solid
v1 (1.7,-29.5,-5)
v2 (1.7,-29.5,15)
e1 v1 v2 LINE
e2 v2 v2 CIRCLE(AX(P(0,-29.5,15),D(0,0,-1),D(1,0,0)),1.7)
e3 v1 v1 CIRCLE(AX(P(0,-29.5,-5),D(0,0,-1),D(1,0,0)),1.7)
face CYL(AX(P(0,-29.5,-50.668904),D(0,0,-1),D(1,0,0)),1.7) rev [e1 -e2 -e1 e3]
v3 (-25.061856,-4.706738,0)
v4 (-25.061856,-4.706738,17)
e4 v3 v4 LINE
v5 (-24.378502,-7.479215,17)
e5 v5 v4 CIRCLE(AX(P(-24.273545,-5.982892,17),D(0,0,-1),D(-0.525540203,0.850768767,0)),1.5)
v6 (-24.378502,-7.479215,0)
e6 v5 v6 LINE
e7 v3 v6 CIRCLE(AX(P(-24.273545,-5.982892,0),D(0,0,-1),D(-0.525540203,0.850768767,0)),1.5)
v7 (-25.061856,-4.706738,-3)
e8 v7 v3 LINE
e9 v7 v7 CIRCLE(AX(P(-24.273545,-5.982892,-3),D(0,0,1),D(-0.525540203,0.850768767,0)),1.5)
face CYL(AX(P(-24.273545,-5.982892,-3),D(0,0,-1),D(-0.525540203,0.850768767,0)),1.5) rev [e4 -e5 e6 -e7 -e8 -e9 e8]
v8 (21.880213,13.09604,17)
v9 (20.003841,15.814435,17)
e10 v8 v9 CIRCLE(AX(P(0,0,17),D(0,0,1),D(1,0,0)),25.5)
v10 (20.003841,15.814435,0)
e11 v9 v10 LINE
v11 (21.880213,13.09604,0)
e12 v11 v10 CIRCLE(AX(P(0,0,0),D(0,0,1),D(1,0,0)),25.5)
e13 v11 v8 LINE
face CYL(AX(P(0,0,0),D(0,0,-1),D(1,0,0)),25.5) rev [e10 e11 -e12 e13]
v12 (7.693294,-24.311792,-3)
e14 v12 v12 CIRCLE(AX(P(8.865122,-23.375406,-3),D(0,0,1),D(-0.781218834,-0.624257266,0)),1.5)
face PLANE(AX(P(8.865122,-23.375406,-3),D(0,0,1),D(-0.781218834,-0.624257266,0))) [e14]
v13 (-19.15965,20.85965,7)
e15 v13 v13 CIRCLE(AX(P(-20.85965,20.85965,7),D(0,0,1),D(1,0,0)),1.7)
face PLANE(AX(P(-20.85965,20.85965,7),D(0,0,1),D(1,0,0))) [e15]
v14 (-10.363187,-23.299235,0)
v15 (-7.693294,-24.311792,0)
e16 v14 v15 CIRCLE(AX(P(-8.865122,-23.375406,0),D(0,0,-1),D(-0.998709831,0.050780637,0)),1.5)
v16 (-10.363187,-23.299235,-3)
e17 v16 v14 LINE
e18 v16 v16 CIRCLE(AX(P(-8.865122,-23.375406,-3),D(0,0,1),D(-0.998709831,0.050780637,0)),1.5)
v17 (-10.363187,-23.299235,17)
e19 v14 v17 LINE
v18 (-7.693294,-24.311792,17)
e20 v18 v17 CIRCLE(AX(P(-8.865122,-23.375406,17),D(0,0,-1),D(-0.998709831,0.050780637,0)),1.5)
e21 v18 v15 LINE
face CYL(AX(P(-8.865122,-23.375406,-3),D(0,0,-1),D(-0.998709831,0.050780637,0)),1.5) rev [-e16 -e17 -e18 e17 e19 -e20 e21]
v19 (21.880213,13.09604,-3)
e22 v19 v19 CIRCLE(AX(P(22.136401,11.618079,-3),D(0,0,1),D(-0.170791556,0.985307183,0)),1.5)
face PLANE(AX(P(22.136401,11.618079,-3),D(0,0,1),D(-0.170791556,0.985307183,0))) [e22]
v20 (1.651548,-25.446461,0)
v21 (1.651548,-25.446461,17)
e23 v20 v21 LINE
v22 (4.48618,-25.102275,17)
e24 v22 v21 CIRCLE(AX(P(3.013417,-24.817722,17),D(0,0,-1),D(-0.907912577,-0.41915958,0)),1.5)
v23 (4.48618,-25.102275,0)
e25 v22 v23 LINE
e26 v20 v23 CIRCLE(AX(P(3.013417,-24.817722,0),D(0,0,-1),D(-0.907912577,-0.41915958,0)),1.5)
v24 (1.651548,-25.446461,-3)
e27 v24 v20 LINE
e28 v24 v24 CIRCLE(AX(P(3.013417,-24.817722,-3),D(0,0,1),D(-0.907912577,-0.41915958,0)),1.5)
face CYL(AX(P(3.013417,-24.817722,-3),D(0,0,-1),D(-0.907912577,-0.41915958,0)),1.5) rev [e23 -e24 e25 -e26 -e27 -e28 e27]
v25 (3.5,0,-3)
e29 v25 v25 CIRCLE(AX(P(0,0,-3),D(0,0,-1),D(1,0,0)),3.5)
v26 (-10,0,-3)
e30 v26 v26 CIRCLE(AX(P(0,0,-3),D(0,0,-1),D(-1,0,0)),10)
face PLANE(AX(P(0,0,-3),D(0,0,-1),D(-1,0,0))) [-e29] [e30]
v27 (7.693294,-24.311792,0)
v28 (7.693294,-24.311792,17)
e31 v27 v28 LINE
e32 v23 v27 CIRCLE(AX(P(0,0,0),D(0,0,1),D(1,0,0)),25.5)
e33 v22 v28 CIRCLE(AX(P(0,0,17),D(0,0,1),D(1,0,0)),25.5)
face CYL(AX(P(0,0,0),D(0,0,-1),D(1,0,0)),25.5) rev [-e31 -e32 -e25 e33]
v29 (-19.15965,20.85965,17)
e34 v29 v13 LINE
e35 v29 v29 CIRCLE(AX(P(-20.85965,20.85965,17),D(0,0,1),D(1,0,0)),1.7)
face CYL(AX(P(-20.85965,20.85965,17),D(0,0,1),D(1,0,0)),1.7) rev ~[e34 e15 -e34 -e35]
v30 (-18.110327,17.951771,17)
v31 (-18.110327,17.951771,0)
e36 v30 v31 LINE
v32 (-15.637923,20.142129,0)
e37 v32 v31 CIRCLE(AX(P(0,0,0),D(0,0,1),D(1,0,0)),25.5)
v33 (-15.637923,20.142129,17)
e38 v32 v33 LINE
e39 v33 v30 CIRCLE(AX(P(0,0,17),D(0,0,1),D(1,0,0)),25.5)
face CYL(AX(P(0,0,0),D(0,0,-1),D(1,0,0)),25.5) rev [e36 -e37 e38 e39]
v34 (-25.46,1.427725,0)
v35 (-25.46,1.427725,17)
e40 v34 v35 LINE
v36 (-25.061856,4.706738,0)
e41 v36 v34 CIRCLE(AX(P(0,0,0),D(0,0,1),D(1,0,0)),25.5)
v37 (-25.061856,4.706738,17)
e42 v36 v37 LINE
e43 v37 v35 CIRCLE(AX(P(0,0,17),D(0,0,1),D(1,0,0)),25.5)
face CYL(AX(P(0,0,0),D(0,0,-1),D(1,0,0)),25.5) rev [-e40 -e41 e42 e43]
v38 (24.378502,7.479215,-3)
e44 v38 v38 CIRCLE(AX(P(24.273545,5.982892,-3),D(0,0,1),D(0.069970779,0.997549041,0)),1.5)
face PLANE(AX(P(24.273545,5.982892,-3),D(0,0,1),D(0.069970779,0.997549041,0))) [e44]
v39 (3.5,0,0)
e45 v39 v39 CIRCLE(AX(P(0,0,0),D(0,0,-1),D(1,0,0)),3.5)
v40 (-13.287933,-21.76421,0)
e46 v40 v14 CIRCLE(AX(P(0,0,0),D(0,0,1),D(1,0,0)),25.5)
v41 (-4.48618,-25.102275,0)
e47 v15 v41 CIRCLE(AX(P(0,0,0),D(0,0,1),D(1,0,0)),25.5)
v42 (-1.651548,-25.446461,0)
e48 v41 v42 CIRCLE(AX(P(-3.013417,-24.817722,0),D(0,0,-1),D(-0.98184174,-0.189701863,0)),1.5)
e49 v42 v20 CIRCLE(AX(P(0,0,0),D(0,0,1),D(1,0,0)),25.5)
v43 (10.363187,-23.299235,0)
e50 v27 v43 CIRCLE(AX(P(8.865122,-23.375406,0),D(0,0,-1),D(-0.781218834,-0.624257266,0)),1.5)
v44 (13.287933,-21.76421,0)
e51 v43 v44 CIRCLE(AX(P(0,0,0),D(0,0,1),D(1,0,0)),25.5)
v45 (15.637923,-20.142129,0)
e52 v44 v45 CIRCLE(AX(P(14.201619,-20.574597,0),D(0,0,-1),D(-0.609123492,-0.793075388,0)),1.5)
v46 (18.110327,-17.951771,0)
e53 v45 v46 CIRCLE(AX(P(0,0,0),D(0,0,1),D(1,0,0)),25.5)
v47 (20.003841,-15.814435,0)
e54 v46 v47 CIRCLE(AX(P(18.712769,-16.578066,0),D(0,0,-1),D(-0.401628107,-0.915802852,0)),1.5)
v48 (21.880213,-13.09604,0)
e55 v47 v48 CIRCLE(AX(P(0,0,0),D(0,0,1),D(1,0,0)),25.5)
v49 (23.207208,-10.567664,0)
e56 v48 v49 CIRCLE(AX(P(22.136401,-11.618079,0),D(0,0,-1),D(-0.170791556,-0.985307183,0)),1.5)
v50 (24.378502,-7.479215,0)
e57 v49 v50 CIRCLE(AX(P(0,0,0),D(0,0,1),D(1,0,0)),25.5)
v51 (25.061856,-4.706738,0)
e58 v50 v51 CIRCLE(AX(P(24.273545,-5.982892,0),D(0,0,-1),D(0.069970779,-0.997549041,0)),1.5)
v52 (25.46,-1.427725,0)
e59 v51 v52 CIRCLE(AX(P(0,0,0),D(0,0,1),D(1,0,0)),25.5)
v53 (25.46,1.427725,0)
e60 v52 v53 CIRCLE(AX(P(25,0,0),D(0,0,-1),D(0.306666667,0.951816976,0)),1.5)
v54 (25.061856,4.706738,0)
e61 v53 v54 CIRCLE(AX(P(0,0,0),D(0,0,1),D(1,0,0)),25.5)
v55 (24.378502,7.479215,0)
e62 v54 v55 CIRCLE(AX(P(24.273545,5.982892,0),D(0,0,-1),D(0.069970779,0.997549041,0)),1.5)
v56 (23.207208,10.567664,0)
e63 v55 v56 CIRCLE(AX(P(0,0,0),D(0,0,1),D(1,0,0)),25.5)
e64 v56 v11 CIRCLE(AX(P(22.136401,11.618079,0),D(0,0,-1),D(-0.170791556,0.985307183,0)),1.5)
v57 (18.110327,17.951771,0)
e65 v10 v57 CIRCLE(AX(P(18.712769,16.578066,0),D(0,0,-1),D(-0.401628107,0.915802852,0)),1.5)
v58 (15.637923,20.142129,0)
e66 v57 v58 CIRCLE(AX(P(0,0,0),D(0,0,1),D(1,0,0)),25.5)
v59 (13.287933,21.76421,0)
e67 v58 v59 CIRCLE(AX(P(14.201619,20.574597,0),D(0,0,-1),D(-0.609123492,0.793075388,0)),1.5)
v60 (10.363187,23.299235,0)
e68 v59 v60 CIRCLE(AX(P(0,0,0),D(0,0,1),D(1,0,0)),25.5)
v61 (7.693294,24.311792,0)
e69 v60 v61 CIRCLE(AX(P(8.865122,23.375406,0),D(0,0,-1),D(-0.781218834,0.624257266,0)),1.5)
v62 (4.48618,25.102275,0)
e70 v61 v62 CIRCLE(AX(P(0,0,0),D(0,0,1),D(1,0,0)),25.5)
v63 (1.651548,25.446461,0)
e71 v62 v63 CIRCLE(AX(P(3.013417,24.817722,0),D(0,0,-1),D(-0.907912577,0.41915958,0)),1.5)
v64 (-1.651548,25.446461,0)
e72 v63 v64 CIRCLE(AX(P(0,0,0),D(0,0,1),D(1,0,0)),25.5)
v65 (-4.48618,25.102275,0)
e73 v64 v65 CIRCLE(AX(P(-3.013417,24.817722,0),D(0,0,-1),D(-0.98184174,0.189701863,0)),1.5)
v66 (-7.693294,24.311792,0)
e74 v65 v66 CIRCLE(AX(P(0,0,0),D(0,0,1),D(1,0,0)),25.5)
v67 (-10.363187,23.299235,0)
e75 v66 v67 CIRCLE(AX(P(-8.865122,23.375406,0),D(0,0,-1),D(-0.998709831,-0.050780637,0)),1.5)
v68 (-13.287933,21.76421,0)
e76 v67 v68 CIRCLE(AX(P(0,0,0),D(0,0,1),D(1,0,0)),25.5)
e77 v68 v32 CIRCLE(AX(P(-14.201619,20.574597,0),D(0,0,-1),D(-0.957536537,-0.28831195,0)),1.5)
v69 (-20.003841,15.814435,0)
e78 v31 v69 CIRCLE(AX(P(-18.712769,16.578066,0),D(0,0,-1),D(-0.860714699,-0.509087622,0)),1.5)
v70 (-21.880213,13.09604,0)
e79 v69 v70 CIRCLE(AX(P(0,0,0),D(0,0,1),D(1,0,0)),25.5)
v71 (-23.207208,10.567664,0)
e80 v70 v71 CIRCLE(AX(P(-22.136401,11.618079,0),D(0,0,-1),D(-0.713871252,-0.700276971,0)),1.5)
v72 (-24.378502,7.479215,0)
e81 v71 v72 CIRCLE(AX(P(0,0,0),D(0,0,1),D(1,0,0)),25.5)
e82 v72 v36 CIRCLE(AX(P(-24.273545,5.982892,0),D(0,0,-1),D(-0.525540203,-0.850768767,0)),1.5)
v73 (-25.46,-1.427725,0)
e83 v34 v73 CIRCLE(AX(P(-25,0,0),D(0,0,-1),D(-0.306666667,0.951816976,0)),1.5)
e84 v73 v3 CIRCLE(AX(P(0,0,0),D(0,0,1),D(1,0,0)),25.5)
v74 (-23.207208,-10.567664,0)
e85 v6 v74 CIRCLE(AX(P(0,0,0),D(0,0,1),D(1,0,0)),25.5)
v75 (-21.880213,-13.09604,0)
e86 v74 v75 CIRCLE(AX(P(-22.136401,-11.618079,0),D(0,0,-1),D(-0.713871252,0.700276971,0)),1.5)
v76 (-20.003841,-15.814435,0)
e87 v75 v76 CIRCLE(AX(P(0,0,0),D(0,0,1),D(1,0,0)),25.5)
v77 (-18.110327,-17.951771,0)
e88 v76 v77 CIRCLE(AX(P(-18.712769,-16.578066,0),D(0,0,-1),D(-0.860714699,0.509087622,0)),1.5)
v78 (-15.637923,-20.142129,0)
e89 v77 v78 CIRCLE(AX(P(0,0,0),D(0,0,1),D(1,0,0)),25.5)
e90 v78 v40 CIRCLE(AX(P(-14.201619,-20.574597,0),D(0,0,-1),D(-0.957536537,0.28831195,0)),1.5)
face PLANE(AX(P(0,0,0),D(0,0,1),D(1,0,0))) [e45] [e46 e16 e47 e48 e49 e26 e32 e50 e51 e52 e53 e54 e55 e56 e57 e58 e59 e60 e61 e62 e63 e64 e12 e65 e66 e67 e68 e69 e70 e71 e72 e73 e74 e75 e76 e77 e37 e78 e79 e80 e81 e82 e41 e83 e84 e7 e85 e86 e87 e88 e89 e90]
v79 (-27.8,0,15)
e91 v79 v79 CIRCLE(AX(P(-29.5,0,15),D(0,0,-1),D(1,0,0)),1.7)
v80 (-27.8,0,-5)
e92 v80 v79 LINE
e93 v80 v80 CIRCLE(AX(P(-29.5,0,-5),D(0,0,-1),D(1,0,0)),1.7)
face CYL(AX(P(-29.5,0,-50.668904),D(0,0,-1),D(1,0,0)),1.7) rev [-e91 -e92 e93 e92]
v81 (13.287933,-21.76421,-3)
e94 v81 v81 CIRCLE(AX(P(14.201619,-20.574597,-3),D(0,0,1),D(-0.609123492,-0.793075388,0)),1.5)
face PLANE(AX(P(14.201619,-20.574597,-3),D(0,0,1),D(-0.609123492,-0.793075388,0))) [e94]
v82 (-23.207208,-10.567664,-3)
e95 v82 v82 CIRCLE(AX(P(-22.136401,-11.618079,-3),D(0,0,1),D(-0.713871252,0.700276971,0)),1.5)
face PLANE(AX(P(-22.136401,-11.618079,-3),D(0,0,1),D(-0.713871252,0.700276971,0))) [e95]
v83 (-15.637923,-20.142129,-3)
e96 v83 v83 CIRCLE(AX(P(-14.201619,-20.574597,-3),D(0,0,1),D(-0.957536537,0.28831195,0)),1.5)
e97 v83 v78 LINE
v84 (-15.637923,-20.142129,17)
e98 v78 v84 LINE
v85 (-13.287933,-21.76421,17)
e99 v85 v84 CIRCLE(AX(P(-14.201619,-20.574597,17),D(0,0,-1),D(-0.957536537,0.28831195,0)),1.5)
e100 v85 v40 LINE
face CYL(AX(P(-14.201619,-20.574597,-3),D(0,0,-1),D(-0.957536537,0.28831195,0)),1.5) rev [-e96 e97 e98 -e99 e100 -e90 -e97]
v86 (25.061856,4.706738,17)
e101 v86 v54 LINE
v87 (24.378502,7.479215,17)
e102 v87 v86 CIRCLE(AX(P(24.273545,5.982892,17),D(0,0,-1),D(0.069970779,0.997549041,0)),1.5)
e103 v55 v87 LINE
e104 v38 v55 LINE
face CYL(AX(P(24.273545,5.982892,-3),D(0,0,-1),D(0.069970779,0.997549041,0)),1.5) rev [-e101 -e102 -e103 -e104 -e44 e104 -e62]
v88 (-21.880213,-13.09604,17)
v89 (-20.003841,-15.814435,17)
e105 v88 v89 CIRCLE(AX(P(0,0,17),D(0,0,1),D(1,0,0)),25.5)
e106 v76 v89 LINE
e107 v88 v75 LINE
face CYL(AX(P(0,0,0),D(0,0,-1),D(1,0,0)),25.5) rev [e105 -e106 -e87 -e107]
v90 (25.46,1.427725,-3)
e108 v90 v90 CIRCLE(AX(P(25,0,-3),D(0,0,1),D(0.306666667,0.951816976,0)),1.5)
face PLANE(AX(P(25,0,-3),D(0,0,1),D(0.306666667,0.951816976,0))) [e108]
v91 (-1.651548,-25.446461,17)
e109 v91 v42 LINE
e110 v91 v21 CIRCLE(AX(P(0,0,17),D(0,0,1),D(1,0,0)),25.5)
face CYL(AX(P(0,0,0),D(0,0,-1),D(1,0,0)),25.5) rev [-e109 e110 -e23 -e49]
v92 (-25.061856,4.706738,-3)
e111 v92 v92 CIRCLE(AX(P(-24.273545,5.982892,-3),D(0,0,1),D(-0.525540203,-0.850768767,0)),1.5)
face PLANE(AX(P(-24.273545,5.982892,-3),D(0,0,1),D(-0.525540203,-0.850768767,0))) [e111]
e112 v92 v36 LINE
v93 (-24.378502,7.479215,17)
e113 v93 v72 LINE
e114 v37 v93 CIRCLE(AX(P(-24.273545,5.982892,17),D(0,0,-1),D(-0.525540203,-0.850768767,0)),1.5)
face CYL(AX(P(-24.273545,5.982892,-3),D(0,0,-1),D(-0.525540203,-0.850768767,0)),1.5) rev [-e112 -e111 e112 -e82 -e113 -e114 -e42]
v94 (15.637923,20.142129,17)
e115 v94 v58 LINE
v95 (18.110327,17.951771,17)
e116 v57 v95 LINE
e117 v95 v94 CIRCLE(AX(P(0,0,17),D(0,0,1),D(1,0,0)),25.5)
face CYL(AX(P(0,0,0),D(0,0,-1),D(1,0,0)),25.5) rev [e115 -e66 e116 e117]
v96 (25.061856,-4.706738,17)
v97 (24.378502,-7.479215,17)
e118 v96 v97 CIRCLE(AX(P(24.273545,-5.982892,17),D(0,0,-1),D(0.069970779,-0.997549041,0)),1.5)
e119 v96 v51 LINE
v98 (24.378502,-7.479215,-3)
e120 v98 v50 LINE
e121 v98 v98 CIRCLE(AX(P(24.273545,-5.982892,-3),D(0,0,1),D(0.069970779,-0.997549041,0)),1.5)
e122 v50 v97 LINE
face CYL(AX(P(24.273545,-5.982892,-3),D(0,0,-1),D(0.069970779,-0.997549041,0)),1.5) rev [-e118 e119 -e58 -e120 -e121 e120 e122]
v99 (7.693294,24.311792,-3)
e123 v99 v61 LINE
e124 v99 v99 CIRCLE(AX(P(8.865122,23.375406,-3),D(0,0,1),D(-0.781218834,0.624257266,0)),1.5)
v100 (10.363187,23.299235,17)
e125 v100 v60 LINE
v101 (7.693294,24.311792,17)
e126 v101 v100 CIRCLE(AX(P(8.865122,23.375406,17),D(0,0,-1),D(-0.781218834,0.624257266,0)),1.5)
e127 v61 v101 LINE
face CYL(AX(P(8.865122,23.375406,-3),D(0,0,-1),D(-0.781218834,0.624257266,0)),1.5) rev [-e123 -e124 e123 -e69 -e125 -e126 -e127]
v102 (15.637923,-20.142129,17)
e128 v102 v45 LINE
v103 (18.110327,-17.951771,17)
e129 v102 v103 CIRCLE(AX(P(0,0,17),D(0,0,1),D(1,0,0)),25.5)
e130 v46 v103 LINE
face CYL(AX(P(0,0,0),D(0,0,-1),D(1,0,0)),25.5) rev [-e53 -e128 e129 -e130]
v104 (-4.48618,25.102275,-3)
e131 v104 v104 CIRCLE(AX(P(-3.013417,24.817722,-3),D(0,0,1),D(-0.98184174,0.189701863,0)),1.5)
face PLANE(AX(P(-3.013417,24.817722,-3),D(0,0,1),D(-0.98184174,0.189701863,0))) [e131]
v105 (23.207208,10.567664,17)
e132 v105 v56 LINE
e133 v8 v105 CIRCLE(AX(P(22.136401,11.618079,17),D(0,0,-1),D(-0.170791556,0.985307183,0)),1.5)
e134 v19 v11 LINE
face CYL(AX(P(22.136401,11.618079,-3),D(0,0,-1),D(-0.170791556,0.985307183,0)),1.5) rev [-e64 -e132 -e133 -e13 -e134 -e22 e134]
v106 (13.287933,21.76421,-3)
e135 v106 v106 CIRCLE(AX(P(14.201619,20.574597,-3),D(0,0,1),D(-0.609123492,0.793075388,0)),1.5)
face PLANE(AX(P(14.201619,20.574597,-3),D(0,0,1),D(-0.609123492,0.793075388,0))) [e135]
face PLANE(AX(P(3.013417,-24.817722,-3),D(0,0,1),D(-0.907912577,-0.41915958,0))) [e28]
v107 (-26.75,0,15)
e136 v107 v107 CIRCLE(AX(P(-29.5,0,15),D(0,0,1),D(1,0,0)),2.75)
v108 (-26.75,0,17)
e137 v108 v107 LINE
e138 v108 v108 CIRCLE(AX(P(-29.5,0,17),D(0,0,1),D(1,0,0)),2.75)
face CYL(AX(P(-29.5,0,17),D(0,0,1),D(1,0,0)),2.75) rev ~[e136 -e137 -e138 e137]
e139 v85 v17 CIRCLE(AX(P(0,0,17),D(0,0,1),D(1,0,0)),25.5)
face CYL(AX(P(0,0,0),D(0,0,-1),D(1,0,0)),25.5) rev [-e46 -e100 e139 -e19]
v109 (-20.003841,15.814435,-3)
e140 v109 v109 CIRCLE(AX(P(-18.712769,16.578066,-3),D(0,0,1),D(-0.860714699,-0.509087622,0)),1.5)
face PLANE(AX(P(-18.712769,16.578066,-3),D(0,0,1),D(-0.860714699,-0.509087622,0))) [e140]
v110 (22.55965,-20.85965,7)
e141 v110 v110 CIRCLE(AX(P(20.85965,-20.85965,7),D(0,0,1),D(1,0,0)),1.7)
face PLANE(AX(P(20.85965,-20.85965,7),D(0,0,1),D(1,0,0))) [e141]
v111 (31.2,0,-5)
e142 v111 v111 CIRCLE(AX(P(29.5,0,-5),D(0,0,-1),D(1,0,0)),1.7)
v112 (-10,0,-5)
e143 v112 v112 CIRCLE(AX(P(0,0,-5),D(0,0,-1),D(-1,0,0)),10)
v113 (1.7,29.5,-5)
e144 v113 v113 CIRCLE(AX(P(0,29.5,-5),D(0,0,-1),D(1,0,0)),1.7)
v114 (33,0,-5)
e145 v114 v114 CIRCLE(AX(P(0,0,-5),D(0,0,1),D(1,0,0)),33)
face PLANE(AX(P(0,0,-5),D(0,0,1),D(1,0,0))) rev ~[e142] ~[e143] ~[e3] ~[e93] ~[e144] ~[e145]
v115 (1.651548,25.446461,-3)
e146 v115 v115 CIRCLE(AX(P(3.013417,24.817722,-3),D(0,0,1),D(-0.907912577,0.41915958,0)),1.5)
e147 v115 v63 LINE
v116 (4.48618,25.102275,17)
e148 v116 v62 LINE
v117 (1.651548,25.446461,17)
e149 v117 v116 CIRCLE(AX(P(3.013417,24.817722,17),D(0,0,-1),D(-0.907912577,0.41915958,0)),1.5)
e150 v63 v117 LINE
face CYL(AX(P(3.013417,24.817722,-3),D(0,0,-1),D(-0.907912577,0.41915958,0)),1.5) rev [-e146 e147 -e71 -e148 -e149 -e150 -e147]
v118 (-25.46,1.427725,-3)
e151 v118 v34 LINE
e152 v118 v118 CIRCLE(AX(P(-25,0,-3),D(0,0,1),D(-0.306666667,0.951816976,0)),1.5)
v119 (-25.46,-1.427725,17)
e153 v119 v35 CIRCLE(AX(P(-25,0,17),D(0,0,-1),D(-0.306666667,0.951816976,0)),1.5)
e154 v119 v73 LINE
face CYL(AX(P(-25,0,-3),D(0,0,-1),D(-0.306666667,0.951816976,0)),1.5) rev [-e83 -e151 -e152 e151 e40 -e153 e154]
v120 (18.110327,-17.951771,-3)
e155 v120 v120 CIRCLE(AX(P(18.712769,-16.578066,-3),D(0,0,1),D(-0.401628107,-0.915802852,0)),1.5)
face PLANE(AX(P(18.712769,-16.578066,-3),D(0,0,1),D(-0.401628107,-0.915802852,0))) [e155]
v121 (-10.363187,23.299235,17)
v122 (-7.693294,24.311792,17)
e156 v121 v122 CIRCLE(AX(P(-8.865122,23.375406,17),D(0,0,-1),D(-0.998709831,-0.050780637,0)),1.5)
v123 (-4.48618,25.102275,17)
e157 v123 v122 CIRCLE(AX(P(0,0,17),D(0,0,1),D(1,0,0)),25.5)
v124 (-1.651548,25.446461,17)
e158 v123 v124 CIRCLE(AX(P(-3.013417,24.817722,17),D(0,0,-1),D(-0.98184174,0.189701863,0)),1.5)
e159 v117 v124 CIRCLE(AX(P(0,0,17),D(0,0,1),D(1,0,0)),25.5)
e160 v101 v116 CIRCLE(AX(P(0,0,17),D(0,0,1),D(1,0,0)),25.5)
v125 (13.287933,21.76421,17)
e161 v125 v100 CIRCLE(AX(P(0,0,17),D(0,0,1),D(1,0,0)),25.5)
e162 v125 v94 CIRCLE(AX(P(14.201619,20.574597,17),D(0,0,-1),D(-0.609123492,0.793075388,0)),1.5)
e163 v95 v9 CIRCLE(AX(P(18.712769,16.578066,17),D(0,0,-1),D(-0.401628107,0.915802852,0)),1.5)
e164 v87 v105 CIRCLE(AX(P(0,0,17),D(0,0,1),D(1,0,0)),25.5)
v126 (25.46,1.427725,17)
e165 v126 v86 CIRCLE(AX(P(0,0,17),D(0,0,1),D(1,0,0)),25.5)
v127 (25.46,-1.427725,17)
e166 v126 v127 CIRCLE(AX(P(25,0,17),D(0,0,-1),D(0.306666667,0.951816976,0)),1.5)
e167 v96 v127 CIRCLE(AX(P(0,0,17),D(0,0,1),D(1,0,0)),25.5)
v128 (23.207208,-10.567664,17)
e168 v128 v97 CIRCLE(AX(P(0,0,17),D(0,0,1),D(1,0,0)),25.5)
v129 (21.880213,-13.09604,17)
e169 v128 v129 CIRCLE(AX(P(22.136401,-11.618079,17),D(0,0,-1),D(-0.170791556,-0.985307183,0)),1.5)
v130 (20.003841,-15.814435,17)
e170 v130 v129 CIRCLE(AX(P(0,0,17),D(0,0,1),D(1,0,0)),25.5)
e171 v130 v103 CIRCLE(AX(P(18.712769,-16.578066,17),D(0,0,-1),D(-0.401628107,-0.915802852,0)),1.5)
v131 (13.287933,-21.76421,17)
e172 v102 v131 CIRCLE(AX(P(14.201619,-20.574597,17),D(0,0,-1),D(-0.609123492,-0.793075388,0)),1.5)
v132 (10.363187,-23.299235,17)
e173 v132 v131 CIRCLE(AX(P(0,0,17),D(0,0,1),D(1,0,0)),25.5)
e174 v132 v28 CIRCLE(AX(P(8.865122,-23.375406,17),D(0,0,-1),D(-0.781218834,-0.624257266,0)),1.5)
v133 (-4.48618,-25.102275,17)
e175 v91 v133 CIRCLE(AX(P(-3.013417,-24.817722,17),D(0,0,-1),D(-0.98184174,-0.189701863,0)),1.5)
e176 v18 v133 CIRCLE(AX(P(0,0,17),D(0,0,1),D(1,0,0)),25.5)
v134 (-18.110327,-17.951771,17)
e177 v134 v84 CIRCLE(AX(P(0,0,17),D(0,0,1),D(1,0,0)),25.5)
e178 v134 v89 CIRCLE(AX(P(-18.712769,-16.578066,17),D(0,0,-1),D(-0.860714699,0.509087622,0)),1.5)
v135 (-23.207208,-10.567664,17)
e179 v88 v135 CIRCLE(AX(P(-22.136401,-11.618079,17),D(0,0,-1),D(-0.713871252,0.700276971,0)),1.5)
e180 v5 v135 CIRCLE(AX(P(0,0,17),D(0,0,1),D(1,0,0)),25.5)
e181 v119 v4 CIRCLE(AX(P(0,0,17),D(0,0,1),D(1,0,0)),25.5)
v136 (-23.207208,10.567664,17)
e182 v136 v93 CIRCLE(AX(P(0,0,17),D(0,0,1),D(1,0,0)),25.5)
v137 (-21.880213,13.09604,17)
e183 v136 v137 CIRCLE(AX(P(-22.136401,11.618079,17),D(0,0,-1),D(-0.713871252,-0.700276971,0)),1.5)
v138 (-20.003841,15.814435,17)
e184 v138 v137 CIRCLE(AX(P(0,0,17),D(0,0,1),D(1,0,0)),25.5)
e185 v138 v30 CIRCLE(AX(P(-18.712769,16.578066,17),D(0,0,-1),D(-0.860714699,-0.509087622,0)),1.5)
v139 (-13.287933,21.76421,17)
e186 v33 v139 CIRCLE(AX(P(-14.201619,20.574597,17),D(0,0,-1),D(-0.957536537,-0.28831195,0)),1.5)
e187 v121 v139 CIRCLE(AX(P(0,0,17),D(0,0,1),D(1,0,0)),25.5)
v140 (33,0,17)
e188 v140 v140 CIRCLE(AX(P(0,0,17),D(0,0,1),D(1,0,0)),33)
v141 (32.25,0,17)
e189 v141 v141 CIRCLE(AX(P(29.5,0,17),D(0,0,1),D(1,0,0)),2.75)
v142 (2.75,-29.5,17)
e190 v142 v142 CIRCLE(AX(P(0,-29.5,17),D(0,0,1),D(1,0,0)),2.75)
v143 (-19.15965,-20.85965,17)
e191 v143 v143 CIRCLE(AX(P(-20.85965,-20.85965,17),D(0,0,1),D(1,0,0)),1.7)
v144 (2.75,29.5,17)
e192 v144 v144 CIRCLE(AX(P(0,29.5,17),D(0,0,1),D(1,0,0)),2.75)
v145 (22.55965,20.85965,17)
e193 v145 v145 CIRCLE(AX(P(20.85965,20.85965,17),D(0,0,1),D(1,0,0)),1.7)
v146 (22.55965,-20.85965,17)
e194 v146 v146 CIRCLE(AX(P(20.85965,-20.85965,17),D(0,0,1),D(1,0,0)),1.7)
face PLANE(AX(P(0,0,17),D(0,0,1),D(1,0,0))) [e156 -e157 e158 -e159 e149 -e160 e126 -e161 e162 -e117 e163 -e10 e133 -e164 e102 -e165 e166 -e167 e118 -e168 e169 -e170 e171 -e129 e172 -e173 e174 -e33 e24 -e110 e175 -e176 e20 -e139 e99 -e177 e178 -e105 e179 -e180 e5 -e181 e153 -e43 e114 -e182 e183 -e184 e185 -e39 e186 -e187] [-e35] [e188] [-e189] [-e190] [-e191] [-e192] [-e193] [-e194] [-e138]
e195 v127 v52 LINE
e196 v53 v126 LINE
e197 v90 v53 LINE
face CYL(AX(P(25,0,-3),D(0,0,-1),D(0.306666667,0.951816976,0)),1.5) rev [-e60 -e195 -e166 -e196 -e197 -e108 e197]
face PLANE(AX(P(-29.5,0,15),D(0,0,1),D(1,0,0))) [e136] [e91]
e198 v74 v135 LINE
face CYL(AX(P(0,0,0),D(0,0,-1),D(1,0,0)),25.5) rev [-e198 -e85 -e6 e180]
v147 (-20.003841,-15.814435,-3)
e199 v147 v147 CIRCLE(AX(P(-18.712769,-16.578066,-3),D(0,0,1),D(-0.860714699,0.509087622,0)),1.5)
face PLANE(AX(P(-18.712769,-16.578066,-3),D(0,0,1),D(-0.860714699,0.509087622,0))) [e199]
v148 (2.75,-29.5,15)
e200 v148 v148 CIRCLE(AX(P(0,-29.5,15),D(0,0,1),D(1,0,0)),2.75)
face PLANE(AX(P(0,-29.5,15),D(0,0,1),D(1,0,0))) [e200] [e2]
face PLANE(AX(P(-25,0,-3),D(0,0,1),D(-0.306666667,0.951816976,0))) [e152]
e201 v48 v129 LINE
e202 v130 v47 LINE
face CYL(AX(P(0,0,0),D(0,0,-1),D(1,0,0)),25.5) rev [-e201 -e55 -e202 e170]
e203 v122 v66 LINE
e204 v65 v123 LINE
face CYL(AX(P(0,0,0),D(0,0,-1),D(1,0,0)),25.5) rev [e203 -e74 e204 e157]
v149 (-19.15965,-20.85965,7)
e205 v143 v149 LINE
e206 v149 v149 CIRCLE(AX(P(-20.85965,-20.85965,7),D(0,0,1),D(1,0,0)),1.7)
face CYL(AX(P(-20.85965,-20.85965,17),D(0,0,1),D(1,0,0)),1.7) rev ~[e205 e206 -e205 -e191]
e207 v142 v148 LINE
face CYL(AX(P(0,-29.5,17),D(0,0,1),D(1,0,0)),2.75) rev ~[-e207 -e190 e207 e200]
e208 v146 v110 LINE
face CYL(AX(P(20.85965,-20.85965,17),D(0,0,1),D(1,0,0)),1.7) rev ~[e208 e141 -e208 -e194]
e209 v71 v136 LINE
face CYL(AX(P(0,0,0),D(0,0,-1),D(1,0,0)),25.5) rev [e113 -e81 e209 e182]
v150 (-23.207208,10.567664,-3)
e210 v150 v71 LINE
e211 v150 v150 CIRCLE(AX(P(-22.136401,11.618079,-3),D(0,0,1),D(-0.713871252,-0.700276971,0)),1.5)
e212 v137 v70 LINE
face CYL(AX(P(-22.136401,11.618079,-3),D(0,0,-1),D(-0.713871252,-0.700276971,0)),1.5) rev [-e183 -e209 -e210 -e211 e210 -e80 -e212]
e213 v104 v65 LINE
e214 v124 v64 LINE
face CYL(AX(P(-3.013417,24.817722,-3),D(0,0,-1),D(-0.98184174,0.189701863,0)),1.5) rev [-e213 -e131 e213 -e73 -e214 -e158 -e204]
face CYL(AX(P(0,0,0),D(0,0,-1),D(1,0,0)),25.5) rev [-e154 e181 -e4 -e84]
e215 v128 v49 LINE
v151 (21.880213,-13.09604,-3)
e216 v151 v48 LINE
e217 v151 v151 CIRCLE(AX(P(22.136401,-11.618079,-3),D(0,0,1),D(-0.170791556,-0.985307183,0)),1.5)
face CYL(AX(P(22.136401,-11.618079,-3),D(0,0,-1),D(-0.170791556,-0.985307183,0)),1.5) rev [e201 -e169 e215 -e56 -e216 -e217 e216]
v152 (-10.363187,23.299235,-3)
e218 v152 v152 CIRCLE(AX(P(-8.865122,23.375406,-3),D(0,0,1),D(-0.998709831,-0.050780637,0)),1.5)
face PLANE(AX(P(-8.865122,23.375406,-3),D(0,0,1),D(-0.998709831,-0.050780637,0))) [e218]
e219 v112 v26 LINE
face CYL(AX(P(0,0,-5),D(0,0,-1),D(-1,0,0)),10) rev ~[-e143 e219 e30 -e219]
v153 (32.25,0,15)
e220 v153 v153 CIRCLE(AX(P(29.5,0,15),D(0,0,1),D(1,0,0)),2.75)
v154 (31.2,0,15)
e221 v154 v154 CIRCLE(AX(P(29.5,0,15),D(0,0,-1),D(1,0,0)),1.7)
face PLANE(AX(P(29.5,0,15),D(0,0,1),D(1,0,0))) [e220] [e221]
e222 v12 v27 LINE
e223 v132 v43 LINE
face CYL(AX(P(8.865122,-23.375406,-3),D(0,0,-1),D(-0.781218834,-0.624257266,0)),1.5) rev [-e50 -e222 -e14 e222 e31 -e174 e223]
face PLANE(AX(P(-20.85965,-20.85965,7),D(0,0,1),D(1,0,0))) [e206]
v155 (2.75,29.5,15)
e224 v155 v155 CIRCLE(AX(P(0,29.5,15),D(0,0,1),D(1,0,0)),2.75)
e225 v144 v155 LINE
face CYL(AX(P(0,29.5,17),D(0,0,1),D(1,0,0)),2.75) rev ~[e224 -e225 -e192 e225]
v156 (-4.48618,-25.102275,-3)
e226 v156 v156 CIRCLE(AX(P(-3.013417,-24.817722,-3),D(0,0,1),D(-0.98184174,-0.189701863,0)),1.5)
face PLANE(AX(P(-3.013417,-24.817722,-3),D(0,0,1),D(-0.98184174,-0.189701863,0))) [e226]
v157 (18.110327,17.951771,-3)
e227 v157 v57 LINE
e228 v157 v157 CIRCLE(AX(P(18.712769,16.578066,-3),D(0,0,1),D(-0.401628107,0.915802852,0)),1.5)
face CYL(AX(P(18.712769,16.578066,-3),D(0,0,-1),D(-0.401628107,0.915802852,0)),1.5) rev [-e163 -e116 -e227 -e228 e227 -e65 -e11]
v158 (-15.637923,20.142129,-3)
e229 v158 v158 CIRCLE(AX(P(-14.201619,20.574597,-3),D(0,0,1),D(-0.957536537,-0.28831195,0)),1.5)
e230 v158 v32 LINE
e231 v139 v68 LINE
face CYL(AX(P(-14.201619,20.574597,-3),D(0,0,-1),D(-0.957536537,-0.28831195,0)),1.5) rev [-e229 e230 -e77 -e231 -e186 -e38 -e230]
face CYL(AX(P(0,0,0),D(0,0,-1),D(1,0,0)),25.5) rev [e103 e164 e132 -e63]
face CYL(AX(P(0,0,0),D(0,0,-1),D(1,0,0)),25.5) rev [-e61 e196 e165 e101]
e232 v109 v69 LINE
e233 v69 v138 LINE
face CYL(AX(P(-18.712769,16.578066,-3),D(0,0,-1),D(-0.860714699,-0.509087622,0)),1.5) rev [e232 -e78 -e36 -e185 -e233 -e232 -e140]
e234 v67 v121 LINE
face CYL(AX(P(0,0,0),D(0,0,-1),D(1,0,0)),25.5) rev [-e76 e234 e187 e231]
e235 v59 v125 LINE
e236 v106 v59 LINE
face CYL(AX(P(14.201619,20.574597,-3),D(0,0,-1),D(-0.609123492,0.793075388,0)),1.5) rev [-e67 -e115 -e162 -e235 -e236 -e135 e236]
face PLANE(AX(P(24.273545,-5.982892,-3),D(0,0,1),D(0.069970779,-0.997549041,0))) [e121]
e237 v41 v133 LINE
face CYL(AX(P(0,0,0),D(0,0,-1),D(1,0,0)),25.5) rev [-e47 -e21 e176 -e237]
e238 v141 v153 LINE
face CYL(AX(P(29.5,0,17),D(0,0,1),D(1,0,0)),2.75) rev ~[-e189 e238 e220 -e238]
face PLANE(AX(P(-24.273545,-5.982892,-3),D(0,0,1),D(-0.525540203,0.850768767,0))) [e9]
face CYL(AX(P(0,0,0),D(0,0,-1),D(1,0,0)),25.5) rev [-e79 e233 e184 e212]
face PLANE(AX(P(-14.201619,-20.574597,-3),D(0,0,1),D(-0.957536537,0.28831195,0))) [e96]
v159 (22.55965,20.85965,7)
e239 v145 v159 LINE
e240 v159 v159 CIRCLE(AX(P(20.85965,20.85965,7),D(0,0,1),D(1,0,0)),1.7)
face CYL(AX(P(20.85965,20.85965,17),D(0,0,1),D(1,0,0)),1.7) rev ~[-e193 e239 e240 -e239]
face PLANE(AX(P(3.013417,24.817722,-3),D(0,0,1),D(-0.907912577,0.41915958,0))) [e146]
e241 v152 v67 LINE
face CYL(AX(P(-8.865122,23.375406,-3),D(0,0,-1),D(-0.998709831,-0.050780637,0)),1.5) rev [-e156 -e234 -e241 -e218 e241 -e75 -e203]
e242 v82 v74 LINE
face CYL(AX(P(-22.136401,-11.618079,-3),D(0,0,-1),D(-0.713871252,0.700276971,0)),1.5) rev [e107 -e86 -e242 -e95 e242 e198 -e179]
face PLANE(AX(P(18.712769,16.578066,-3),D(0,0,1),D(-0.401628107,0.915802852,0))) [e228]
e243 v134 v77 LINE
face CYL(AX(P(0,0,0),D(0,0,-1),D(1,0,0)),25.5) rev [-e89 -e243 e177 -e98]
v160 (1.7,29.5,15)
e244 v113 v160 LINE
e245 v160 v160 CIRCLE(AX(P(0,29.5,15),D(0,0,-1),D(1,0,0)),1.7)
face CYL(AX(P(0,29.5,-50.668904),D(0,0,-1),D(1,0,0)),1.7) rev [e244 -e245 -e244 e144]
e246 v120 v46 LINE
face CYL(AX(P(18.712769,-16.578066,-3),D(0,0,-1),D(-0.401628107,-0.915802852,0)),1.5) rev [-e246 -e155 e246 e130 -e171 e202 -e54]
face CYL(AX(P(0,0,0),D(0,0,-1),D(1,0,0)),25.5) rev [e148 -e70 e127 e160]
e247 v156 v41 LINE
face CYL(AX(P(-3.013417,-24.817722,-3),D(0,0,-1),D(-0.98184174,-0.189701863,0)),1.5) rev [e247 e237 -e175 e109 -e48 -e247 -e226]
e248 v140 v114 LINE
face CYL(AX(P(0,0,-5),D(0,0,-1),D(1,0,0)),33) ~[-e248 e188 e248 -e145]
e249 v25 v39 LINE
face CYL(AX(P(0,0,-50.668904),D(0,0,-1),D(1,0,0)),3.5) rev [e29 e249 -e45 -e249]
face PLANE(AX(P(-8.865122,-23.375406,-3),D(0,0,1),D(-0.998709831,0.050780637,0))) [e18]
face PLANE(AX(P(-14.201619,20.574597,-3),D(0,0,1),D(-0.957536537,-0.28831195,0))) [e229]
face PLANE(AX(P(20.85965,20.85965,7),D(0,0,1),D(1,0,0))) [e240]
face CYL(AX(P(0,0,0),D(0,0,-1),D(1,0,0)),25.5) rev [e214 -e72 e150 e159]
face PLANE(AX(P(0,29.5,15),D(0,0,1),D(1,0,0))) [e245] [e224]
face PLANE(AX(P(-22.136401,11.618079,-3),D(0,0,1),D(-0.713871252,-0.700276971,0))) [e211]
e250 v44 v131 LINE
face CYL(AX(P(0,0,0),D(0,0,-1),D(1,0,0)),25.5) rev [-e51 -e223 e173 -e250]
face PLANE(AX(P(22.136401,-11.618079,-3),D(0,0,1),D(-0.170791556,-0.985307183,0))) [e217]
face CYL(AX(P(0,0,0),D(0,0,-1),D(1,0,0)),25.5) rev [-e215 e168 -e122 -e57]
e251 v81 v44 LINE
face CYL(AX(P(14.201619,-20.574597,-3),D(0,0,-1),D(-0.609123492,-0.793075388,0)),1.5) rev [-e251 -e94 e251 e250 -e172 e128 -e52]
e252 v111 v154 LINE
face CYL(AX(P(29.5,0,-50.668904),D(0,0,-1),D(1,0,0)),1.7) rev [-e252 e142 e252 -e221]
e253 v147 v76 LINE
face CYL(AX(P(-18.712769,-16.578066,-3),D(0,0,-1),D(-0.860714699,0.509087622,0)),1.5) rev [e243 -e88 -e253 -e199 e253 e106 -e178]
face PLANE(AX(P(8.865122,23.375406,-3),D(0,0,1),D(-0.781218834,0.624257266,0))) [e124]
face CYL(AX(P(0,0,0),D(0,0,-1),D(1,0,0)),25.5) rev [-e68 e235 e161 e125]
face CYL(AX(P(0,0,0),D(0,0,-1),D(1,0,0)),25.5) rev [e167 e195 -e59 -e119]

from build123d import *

# Parameters (mm, degrees)
SKETCH1_R               = 33
SKETCH1_R_2             = 25.5
BOSS_EXTRUDE2_DEPTH     = 17
BOSS_EXTRUDE3_START     = -5
SKETCH1_3_R             = 33
BOSS_EXTRUDE3_DEPTH     = 5
CUT_EXTRUDE4_DEPTH      = 50.668903753
CUT_EXTRUDE4_DEPTH_BACK = 3
SKETCH1_5_R             = 1.5
CUT_EXTRUDE6_DEPTH      = 50.668903753
CUT_EXTRUDE6_DEPTH_BACK = 50.668903753
SKETCH3_R               = 1.7
SKETCH3_R_2             = 3.5
SKETCH4_R               = 10
CUT_EXTRUDE7_DEPTH      = 2
SKETCH6_R               = 1.7
CUT_EXTRUDE8_DEPTH      = 10
SKETCH7_R               = 2.75
CUT_EXTRUDE9_DEPTH      = 2


with BuildPart() as part:
    # Sketch1 → Boss-Extrude2 (new body)
    with BuildSketch(Plane.XY):
        Circle(SKETCH1_R)
        Circle(SKETCH1_R_2, mode=Mode.SUBTRACT)
    extrude(amount=BOSS_EXTRUDE2_DEPTH)

    # Sketch1<3> → Boss-Extrude3 (add)
    with BuildSketch(Plane.XY.offset(BOSS_EXTRUDE3_START)):
        Circle(SKETCH1_3_R)
    extrude(amount=BOSS_EXTRUDE3_DEPTH)

    # Sketch1<5> → Cut-Extrude4 (cut, two sides: drawn at the far end of the back side and taken through both)
    with BuildSketch(Plane.XY.offset(-CUT_EXTRUDE4_DEPTH_BACK)):
        with Locations(Location((25, 0, 0), (0, 0, 72.141537302))):
            Circle(SKETCH1_5_R)
        with Locations(Location((24.273545436, -5.982891607, 0), (0, 0, 274.012308852))):
            Circle(SKETCH1_5_R)
        with Locations(Location((22.136400641, -11.618079301, 0), (0, 0, 260.166155006))):
            Circle(SKETCH1_5_R)
        with Locations(Location((18.712768704, -16.578066456, 0), (0, 0, 246.32000116))):
            Circle(SKETCH1_5_R)
        with Locations(Location((14.201618668, -20.574596647, 0), (0, 0, 232.473847314))):
            Circle(SKETCH1_5_R)
        with Locations(Location((8.865122176, -23.375406067, 0), (0, 0, 218.627693468))):
            Circle(SKETCH1_5_R)
        with Locations(Location((3.013417006, -24.817721852, 0), (0, 0, 204.781539621))):
            Circle(SKETCH1_5_R)
        with Locations(Location((-3.013417006, -24.817721852, 0), (0, 0, 190.935385775))):
            Circle(SKETCH1_5_R)
        with Locations(Location((-8.865122176, -23.375406067, 0), (0, 0, 177.089231929))):
            Circle(SKETCH1_5_R)
        with Locations(Location((-14.201618668, -20.574596647, 0), (0, 0, 163.243078083))):
            Circle(SKETCH1_5_R)
        with Locations(Location((-18.712768704, -16.578066456, 0), (0, 0, 149.396924237))):
            Circle(SKETCH1_5_R)
        with Locations(Location((-22.136400641, -11.618079301, 0), (0, 0, 135.550770391))):
            Circle(SKETCH1_5_R)
        with Locations(Location((-24.273545436, -5.982891607, 0), (0, 0, 121.704616545))):
            Circle(SKETCH1_5_R)
        with Locations(Location((-25, 0, 0), (0, 0, 107.858462698))):
            Circle(SKETCH1_5_R)
        with Locations(Location((-24.273545436, 5.982891607, 0), (0, 0, 238.295383455))):
            Circle(SKETCH1_5_R)
        with Locations(Location((-22.136400641, 11.618079301, 0), (0, 0, 224.449229609))):
            Circle(SKETCH1_5_R)
        with Locations(Location((-18.712768704, 16.578066456, 0), (0, 0, 210.603075763))):
            Circle(SKETCH1_5_R)
        with Locations(Location((-14.201618668, 20.574596647, 0), (0, 0, 196.756921917))):
            Circle(SKETCH1_5_R)
        with Locations(Location((-8.865122176, 23.375406067, 0), (0, 0, 182.910768071))):
            Circle(SKETCH1_5_R)
        with Locations(Location((-3.013417006, 24.817721852, 0), (0, 0, 169.064614225))):
            Circle(SKETCH1_5_R)
        with Locations(Location((3.013417006, 24.817721852, 0), (0, 0, 155.218460378))):
            Circle(SKETCH1_5_R)
        with Locations(Location((8.865122176, 23.375406067, 0), (0, 0, 141.372306532))):
            Circle(SKETCH1_5_R)
        with Locations(Location((14.201618668, 20.574596647, 0), (0, 0, 127.526152686))):
            Circle(SKETCH1_5_R)
        with Locations(Location((18.712768704, 16.578066456, 0), (0, 0, 113.67999884))):
            Circle(SKETCH1_5_R)
        with Locations(Location((22.136400641, 11.618079301, 0), (0, 0, 99.833844994))):
            Circle(SKETCH1_5_R)
        with Locations(Location((24.273545436, 5.982891607, 0), (0, 0, 85.987691148))):
            Circle(SKETCH1_5_R)
    extrude(amount=CUT_EXTRUDE4_DEPTH + CUT_EXTRUDE4_DEPTH_BACK, mode=Mode.SUBTRACT)

    # Sketch3 → Cut-Extrude6 (cut, two sides: drawn at the far end of the back side and taken through both)
    with BuildSketch(Plane.XY.offset(-CUT_EXTRUDE6_DEPTH_BACK)):
        with Locations((0, 29.5)):
            Circle(SKETCH3_R)
        with Locations((29.5, 0)):
            Circle(SKETCH3_R)
        with Locations((0, -29.5)):
            Circle(SKETCH3_R)
        with Locations((-29.5, 0)):
            Circle(SKETCH3_R)
        Circle(SKETCH3_R_2)
    extrude(amount=CUT_EXTRUDE6_DEPTH + CUT_EXTRUDE6_DEPTH_BACK, mode=Mode.SUBTRACT)

    # Sketch4 → Cut-Extrude7 (cut)
    with BuildSketch(Plane(origin=(0, 0, -5), x_dir=(-1, 0, 0), z_dir=(0, 0, -1))):
        Circle(SKETCH4_R)
    extrude(amount=-CUT_EXTRUDE7_DEPTH, mode=Mode.SUBTRACT)

    # Sketch6 → Cut-Extrude8 (cut)
    with BuildSketch(Plane.XY.offset(17)):
        with Locations((-20.859650045, 20.859650045)):
            Circle(SKETCH6_R)
        with Locations((20.859650045, 20.859650045)):
            Circle(SKETCH6_R)
        with Locations((20.859650045, -20.859650045)):
            Circle(SKETCH6_R)
        with Locations((-20.859650045, -20.859650045)):
            Circle(SKETCH6_R)
    extrude(amount=-CUT_EXTRUDE8_DEPTH, mode=Mode.SUBTRACT)

    # Sketch7 → Cut-Extrude9 (cut)
    with BuildSketch(Plane.XY.offset(17)):
        with Locations((0, 29.5)):
            Circle(SKETCH7_R)
        with Locations((29.5, 0)):
            Circle(SKETCH7_R)
        with Locations((0, -29.5)):
            Circle(SKETCH7_R)
        with Locations((-29.5, 0)):
            Circle(SKETCH7_R)
    extrude(amount=-CUT_EXTRUDE9_DEPTH, mode=Mode.SUBTRACT)


solid = part.part
